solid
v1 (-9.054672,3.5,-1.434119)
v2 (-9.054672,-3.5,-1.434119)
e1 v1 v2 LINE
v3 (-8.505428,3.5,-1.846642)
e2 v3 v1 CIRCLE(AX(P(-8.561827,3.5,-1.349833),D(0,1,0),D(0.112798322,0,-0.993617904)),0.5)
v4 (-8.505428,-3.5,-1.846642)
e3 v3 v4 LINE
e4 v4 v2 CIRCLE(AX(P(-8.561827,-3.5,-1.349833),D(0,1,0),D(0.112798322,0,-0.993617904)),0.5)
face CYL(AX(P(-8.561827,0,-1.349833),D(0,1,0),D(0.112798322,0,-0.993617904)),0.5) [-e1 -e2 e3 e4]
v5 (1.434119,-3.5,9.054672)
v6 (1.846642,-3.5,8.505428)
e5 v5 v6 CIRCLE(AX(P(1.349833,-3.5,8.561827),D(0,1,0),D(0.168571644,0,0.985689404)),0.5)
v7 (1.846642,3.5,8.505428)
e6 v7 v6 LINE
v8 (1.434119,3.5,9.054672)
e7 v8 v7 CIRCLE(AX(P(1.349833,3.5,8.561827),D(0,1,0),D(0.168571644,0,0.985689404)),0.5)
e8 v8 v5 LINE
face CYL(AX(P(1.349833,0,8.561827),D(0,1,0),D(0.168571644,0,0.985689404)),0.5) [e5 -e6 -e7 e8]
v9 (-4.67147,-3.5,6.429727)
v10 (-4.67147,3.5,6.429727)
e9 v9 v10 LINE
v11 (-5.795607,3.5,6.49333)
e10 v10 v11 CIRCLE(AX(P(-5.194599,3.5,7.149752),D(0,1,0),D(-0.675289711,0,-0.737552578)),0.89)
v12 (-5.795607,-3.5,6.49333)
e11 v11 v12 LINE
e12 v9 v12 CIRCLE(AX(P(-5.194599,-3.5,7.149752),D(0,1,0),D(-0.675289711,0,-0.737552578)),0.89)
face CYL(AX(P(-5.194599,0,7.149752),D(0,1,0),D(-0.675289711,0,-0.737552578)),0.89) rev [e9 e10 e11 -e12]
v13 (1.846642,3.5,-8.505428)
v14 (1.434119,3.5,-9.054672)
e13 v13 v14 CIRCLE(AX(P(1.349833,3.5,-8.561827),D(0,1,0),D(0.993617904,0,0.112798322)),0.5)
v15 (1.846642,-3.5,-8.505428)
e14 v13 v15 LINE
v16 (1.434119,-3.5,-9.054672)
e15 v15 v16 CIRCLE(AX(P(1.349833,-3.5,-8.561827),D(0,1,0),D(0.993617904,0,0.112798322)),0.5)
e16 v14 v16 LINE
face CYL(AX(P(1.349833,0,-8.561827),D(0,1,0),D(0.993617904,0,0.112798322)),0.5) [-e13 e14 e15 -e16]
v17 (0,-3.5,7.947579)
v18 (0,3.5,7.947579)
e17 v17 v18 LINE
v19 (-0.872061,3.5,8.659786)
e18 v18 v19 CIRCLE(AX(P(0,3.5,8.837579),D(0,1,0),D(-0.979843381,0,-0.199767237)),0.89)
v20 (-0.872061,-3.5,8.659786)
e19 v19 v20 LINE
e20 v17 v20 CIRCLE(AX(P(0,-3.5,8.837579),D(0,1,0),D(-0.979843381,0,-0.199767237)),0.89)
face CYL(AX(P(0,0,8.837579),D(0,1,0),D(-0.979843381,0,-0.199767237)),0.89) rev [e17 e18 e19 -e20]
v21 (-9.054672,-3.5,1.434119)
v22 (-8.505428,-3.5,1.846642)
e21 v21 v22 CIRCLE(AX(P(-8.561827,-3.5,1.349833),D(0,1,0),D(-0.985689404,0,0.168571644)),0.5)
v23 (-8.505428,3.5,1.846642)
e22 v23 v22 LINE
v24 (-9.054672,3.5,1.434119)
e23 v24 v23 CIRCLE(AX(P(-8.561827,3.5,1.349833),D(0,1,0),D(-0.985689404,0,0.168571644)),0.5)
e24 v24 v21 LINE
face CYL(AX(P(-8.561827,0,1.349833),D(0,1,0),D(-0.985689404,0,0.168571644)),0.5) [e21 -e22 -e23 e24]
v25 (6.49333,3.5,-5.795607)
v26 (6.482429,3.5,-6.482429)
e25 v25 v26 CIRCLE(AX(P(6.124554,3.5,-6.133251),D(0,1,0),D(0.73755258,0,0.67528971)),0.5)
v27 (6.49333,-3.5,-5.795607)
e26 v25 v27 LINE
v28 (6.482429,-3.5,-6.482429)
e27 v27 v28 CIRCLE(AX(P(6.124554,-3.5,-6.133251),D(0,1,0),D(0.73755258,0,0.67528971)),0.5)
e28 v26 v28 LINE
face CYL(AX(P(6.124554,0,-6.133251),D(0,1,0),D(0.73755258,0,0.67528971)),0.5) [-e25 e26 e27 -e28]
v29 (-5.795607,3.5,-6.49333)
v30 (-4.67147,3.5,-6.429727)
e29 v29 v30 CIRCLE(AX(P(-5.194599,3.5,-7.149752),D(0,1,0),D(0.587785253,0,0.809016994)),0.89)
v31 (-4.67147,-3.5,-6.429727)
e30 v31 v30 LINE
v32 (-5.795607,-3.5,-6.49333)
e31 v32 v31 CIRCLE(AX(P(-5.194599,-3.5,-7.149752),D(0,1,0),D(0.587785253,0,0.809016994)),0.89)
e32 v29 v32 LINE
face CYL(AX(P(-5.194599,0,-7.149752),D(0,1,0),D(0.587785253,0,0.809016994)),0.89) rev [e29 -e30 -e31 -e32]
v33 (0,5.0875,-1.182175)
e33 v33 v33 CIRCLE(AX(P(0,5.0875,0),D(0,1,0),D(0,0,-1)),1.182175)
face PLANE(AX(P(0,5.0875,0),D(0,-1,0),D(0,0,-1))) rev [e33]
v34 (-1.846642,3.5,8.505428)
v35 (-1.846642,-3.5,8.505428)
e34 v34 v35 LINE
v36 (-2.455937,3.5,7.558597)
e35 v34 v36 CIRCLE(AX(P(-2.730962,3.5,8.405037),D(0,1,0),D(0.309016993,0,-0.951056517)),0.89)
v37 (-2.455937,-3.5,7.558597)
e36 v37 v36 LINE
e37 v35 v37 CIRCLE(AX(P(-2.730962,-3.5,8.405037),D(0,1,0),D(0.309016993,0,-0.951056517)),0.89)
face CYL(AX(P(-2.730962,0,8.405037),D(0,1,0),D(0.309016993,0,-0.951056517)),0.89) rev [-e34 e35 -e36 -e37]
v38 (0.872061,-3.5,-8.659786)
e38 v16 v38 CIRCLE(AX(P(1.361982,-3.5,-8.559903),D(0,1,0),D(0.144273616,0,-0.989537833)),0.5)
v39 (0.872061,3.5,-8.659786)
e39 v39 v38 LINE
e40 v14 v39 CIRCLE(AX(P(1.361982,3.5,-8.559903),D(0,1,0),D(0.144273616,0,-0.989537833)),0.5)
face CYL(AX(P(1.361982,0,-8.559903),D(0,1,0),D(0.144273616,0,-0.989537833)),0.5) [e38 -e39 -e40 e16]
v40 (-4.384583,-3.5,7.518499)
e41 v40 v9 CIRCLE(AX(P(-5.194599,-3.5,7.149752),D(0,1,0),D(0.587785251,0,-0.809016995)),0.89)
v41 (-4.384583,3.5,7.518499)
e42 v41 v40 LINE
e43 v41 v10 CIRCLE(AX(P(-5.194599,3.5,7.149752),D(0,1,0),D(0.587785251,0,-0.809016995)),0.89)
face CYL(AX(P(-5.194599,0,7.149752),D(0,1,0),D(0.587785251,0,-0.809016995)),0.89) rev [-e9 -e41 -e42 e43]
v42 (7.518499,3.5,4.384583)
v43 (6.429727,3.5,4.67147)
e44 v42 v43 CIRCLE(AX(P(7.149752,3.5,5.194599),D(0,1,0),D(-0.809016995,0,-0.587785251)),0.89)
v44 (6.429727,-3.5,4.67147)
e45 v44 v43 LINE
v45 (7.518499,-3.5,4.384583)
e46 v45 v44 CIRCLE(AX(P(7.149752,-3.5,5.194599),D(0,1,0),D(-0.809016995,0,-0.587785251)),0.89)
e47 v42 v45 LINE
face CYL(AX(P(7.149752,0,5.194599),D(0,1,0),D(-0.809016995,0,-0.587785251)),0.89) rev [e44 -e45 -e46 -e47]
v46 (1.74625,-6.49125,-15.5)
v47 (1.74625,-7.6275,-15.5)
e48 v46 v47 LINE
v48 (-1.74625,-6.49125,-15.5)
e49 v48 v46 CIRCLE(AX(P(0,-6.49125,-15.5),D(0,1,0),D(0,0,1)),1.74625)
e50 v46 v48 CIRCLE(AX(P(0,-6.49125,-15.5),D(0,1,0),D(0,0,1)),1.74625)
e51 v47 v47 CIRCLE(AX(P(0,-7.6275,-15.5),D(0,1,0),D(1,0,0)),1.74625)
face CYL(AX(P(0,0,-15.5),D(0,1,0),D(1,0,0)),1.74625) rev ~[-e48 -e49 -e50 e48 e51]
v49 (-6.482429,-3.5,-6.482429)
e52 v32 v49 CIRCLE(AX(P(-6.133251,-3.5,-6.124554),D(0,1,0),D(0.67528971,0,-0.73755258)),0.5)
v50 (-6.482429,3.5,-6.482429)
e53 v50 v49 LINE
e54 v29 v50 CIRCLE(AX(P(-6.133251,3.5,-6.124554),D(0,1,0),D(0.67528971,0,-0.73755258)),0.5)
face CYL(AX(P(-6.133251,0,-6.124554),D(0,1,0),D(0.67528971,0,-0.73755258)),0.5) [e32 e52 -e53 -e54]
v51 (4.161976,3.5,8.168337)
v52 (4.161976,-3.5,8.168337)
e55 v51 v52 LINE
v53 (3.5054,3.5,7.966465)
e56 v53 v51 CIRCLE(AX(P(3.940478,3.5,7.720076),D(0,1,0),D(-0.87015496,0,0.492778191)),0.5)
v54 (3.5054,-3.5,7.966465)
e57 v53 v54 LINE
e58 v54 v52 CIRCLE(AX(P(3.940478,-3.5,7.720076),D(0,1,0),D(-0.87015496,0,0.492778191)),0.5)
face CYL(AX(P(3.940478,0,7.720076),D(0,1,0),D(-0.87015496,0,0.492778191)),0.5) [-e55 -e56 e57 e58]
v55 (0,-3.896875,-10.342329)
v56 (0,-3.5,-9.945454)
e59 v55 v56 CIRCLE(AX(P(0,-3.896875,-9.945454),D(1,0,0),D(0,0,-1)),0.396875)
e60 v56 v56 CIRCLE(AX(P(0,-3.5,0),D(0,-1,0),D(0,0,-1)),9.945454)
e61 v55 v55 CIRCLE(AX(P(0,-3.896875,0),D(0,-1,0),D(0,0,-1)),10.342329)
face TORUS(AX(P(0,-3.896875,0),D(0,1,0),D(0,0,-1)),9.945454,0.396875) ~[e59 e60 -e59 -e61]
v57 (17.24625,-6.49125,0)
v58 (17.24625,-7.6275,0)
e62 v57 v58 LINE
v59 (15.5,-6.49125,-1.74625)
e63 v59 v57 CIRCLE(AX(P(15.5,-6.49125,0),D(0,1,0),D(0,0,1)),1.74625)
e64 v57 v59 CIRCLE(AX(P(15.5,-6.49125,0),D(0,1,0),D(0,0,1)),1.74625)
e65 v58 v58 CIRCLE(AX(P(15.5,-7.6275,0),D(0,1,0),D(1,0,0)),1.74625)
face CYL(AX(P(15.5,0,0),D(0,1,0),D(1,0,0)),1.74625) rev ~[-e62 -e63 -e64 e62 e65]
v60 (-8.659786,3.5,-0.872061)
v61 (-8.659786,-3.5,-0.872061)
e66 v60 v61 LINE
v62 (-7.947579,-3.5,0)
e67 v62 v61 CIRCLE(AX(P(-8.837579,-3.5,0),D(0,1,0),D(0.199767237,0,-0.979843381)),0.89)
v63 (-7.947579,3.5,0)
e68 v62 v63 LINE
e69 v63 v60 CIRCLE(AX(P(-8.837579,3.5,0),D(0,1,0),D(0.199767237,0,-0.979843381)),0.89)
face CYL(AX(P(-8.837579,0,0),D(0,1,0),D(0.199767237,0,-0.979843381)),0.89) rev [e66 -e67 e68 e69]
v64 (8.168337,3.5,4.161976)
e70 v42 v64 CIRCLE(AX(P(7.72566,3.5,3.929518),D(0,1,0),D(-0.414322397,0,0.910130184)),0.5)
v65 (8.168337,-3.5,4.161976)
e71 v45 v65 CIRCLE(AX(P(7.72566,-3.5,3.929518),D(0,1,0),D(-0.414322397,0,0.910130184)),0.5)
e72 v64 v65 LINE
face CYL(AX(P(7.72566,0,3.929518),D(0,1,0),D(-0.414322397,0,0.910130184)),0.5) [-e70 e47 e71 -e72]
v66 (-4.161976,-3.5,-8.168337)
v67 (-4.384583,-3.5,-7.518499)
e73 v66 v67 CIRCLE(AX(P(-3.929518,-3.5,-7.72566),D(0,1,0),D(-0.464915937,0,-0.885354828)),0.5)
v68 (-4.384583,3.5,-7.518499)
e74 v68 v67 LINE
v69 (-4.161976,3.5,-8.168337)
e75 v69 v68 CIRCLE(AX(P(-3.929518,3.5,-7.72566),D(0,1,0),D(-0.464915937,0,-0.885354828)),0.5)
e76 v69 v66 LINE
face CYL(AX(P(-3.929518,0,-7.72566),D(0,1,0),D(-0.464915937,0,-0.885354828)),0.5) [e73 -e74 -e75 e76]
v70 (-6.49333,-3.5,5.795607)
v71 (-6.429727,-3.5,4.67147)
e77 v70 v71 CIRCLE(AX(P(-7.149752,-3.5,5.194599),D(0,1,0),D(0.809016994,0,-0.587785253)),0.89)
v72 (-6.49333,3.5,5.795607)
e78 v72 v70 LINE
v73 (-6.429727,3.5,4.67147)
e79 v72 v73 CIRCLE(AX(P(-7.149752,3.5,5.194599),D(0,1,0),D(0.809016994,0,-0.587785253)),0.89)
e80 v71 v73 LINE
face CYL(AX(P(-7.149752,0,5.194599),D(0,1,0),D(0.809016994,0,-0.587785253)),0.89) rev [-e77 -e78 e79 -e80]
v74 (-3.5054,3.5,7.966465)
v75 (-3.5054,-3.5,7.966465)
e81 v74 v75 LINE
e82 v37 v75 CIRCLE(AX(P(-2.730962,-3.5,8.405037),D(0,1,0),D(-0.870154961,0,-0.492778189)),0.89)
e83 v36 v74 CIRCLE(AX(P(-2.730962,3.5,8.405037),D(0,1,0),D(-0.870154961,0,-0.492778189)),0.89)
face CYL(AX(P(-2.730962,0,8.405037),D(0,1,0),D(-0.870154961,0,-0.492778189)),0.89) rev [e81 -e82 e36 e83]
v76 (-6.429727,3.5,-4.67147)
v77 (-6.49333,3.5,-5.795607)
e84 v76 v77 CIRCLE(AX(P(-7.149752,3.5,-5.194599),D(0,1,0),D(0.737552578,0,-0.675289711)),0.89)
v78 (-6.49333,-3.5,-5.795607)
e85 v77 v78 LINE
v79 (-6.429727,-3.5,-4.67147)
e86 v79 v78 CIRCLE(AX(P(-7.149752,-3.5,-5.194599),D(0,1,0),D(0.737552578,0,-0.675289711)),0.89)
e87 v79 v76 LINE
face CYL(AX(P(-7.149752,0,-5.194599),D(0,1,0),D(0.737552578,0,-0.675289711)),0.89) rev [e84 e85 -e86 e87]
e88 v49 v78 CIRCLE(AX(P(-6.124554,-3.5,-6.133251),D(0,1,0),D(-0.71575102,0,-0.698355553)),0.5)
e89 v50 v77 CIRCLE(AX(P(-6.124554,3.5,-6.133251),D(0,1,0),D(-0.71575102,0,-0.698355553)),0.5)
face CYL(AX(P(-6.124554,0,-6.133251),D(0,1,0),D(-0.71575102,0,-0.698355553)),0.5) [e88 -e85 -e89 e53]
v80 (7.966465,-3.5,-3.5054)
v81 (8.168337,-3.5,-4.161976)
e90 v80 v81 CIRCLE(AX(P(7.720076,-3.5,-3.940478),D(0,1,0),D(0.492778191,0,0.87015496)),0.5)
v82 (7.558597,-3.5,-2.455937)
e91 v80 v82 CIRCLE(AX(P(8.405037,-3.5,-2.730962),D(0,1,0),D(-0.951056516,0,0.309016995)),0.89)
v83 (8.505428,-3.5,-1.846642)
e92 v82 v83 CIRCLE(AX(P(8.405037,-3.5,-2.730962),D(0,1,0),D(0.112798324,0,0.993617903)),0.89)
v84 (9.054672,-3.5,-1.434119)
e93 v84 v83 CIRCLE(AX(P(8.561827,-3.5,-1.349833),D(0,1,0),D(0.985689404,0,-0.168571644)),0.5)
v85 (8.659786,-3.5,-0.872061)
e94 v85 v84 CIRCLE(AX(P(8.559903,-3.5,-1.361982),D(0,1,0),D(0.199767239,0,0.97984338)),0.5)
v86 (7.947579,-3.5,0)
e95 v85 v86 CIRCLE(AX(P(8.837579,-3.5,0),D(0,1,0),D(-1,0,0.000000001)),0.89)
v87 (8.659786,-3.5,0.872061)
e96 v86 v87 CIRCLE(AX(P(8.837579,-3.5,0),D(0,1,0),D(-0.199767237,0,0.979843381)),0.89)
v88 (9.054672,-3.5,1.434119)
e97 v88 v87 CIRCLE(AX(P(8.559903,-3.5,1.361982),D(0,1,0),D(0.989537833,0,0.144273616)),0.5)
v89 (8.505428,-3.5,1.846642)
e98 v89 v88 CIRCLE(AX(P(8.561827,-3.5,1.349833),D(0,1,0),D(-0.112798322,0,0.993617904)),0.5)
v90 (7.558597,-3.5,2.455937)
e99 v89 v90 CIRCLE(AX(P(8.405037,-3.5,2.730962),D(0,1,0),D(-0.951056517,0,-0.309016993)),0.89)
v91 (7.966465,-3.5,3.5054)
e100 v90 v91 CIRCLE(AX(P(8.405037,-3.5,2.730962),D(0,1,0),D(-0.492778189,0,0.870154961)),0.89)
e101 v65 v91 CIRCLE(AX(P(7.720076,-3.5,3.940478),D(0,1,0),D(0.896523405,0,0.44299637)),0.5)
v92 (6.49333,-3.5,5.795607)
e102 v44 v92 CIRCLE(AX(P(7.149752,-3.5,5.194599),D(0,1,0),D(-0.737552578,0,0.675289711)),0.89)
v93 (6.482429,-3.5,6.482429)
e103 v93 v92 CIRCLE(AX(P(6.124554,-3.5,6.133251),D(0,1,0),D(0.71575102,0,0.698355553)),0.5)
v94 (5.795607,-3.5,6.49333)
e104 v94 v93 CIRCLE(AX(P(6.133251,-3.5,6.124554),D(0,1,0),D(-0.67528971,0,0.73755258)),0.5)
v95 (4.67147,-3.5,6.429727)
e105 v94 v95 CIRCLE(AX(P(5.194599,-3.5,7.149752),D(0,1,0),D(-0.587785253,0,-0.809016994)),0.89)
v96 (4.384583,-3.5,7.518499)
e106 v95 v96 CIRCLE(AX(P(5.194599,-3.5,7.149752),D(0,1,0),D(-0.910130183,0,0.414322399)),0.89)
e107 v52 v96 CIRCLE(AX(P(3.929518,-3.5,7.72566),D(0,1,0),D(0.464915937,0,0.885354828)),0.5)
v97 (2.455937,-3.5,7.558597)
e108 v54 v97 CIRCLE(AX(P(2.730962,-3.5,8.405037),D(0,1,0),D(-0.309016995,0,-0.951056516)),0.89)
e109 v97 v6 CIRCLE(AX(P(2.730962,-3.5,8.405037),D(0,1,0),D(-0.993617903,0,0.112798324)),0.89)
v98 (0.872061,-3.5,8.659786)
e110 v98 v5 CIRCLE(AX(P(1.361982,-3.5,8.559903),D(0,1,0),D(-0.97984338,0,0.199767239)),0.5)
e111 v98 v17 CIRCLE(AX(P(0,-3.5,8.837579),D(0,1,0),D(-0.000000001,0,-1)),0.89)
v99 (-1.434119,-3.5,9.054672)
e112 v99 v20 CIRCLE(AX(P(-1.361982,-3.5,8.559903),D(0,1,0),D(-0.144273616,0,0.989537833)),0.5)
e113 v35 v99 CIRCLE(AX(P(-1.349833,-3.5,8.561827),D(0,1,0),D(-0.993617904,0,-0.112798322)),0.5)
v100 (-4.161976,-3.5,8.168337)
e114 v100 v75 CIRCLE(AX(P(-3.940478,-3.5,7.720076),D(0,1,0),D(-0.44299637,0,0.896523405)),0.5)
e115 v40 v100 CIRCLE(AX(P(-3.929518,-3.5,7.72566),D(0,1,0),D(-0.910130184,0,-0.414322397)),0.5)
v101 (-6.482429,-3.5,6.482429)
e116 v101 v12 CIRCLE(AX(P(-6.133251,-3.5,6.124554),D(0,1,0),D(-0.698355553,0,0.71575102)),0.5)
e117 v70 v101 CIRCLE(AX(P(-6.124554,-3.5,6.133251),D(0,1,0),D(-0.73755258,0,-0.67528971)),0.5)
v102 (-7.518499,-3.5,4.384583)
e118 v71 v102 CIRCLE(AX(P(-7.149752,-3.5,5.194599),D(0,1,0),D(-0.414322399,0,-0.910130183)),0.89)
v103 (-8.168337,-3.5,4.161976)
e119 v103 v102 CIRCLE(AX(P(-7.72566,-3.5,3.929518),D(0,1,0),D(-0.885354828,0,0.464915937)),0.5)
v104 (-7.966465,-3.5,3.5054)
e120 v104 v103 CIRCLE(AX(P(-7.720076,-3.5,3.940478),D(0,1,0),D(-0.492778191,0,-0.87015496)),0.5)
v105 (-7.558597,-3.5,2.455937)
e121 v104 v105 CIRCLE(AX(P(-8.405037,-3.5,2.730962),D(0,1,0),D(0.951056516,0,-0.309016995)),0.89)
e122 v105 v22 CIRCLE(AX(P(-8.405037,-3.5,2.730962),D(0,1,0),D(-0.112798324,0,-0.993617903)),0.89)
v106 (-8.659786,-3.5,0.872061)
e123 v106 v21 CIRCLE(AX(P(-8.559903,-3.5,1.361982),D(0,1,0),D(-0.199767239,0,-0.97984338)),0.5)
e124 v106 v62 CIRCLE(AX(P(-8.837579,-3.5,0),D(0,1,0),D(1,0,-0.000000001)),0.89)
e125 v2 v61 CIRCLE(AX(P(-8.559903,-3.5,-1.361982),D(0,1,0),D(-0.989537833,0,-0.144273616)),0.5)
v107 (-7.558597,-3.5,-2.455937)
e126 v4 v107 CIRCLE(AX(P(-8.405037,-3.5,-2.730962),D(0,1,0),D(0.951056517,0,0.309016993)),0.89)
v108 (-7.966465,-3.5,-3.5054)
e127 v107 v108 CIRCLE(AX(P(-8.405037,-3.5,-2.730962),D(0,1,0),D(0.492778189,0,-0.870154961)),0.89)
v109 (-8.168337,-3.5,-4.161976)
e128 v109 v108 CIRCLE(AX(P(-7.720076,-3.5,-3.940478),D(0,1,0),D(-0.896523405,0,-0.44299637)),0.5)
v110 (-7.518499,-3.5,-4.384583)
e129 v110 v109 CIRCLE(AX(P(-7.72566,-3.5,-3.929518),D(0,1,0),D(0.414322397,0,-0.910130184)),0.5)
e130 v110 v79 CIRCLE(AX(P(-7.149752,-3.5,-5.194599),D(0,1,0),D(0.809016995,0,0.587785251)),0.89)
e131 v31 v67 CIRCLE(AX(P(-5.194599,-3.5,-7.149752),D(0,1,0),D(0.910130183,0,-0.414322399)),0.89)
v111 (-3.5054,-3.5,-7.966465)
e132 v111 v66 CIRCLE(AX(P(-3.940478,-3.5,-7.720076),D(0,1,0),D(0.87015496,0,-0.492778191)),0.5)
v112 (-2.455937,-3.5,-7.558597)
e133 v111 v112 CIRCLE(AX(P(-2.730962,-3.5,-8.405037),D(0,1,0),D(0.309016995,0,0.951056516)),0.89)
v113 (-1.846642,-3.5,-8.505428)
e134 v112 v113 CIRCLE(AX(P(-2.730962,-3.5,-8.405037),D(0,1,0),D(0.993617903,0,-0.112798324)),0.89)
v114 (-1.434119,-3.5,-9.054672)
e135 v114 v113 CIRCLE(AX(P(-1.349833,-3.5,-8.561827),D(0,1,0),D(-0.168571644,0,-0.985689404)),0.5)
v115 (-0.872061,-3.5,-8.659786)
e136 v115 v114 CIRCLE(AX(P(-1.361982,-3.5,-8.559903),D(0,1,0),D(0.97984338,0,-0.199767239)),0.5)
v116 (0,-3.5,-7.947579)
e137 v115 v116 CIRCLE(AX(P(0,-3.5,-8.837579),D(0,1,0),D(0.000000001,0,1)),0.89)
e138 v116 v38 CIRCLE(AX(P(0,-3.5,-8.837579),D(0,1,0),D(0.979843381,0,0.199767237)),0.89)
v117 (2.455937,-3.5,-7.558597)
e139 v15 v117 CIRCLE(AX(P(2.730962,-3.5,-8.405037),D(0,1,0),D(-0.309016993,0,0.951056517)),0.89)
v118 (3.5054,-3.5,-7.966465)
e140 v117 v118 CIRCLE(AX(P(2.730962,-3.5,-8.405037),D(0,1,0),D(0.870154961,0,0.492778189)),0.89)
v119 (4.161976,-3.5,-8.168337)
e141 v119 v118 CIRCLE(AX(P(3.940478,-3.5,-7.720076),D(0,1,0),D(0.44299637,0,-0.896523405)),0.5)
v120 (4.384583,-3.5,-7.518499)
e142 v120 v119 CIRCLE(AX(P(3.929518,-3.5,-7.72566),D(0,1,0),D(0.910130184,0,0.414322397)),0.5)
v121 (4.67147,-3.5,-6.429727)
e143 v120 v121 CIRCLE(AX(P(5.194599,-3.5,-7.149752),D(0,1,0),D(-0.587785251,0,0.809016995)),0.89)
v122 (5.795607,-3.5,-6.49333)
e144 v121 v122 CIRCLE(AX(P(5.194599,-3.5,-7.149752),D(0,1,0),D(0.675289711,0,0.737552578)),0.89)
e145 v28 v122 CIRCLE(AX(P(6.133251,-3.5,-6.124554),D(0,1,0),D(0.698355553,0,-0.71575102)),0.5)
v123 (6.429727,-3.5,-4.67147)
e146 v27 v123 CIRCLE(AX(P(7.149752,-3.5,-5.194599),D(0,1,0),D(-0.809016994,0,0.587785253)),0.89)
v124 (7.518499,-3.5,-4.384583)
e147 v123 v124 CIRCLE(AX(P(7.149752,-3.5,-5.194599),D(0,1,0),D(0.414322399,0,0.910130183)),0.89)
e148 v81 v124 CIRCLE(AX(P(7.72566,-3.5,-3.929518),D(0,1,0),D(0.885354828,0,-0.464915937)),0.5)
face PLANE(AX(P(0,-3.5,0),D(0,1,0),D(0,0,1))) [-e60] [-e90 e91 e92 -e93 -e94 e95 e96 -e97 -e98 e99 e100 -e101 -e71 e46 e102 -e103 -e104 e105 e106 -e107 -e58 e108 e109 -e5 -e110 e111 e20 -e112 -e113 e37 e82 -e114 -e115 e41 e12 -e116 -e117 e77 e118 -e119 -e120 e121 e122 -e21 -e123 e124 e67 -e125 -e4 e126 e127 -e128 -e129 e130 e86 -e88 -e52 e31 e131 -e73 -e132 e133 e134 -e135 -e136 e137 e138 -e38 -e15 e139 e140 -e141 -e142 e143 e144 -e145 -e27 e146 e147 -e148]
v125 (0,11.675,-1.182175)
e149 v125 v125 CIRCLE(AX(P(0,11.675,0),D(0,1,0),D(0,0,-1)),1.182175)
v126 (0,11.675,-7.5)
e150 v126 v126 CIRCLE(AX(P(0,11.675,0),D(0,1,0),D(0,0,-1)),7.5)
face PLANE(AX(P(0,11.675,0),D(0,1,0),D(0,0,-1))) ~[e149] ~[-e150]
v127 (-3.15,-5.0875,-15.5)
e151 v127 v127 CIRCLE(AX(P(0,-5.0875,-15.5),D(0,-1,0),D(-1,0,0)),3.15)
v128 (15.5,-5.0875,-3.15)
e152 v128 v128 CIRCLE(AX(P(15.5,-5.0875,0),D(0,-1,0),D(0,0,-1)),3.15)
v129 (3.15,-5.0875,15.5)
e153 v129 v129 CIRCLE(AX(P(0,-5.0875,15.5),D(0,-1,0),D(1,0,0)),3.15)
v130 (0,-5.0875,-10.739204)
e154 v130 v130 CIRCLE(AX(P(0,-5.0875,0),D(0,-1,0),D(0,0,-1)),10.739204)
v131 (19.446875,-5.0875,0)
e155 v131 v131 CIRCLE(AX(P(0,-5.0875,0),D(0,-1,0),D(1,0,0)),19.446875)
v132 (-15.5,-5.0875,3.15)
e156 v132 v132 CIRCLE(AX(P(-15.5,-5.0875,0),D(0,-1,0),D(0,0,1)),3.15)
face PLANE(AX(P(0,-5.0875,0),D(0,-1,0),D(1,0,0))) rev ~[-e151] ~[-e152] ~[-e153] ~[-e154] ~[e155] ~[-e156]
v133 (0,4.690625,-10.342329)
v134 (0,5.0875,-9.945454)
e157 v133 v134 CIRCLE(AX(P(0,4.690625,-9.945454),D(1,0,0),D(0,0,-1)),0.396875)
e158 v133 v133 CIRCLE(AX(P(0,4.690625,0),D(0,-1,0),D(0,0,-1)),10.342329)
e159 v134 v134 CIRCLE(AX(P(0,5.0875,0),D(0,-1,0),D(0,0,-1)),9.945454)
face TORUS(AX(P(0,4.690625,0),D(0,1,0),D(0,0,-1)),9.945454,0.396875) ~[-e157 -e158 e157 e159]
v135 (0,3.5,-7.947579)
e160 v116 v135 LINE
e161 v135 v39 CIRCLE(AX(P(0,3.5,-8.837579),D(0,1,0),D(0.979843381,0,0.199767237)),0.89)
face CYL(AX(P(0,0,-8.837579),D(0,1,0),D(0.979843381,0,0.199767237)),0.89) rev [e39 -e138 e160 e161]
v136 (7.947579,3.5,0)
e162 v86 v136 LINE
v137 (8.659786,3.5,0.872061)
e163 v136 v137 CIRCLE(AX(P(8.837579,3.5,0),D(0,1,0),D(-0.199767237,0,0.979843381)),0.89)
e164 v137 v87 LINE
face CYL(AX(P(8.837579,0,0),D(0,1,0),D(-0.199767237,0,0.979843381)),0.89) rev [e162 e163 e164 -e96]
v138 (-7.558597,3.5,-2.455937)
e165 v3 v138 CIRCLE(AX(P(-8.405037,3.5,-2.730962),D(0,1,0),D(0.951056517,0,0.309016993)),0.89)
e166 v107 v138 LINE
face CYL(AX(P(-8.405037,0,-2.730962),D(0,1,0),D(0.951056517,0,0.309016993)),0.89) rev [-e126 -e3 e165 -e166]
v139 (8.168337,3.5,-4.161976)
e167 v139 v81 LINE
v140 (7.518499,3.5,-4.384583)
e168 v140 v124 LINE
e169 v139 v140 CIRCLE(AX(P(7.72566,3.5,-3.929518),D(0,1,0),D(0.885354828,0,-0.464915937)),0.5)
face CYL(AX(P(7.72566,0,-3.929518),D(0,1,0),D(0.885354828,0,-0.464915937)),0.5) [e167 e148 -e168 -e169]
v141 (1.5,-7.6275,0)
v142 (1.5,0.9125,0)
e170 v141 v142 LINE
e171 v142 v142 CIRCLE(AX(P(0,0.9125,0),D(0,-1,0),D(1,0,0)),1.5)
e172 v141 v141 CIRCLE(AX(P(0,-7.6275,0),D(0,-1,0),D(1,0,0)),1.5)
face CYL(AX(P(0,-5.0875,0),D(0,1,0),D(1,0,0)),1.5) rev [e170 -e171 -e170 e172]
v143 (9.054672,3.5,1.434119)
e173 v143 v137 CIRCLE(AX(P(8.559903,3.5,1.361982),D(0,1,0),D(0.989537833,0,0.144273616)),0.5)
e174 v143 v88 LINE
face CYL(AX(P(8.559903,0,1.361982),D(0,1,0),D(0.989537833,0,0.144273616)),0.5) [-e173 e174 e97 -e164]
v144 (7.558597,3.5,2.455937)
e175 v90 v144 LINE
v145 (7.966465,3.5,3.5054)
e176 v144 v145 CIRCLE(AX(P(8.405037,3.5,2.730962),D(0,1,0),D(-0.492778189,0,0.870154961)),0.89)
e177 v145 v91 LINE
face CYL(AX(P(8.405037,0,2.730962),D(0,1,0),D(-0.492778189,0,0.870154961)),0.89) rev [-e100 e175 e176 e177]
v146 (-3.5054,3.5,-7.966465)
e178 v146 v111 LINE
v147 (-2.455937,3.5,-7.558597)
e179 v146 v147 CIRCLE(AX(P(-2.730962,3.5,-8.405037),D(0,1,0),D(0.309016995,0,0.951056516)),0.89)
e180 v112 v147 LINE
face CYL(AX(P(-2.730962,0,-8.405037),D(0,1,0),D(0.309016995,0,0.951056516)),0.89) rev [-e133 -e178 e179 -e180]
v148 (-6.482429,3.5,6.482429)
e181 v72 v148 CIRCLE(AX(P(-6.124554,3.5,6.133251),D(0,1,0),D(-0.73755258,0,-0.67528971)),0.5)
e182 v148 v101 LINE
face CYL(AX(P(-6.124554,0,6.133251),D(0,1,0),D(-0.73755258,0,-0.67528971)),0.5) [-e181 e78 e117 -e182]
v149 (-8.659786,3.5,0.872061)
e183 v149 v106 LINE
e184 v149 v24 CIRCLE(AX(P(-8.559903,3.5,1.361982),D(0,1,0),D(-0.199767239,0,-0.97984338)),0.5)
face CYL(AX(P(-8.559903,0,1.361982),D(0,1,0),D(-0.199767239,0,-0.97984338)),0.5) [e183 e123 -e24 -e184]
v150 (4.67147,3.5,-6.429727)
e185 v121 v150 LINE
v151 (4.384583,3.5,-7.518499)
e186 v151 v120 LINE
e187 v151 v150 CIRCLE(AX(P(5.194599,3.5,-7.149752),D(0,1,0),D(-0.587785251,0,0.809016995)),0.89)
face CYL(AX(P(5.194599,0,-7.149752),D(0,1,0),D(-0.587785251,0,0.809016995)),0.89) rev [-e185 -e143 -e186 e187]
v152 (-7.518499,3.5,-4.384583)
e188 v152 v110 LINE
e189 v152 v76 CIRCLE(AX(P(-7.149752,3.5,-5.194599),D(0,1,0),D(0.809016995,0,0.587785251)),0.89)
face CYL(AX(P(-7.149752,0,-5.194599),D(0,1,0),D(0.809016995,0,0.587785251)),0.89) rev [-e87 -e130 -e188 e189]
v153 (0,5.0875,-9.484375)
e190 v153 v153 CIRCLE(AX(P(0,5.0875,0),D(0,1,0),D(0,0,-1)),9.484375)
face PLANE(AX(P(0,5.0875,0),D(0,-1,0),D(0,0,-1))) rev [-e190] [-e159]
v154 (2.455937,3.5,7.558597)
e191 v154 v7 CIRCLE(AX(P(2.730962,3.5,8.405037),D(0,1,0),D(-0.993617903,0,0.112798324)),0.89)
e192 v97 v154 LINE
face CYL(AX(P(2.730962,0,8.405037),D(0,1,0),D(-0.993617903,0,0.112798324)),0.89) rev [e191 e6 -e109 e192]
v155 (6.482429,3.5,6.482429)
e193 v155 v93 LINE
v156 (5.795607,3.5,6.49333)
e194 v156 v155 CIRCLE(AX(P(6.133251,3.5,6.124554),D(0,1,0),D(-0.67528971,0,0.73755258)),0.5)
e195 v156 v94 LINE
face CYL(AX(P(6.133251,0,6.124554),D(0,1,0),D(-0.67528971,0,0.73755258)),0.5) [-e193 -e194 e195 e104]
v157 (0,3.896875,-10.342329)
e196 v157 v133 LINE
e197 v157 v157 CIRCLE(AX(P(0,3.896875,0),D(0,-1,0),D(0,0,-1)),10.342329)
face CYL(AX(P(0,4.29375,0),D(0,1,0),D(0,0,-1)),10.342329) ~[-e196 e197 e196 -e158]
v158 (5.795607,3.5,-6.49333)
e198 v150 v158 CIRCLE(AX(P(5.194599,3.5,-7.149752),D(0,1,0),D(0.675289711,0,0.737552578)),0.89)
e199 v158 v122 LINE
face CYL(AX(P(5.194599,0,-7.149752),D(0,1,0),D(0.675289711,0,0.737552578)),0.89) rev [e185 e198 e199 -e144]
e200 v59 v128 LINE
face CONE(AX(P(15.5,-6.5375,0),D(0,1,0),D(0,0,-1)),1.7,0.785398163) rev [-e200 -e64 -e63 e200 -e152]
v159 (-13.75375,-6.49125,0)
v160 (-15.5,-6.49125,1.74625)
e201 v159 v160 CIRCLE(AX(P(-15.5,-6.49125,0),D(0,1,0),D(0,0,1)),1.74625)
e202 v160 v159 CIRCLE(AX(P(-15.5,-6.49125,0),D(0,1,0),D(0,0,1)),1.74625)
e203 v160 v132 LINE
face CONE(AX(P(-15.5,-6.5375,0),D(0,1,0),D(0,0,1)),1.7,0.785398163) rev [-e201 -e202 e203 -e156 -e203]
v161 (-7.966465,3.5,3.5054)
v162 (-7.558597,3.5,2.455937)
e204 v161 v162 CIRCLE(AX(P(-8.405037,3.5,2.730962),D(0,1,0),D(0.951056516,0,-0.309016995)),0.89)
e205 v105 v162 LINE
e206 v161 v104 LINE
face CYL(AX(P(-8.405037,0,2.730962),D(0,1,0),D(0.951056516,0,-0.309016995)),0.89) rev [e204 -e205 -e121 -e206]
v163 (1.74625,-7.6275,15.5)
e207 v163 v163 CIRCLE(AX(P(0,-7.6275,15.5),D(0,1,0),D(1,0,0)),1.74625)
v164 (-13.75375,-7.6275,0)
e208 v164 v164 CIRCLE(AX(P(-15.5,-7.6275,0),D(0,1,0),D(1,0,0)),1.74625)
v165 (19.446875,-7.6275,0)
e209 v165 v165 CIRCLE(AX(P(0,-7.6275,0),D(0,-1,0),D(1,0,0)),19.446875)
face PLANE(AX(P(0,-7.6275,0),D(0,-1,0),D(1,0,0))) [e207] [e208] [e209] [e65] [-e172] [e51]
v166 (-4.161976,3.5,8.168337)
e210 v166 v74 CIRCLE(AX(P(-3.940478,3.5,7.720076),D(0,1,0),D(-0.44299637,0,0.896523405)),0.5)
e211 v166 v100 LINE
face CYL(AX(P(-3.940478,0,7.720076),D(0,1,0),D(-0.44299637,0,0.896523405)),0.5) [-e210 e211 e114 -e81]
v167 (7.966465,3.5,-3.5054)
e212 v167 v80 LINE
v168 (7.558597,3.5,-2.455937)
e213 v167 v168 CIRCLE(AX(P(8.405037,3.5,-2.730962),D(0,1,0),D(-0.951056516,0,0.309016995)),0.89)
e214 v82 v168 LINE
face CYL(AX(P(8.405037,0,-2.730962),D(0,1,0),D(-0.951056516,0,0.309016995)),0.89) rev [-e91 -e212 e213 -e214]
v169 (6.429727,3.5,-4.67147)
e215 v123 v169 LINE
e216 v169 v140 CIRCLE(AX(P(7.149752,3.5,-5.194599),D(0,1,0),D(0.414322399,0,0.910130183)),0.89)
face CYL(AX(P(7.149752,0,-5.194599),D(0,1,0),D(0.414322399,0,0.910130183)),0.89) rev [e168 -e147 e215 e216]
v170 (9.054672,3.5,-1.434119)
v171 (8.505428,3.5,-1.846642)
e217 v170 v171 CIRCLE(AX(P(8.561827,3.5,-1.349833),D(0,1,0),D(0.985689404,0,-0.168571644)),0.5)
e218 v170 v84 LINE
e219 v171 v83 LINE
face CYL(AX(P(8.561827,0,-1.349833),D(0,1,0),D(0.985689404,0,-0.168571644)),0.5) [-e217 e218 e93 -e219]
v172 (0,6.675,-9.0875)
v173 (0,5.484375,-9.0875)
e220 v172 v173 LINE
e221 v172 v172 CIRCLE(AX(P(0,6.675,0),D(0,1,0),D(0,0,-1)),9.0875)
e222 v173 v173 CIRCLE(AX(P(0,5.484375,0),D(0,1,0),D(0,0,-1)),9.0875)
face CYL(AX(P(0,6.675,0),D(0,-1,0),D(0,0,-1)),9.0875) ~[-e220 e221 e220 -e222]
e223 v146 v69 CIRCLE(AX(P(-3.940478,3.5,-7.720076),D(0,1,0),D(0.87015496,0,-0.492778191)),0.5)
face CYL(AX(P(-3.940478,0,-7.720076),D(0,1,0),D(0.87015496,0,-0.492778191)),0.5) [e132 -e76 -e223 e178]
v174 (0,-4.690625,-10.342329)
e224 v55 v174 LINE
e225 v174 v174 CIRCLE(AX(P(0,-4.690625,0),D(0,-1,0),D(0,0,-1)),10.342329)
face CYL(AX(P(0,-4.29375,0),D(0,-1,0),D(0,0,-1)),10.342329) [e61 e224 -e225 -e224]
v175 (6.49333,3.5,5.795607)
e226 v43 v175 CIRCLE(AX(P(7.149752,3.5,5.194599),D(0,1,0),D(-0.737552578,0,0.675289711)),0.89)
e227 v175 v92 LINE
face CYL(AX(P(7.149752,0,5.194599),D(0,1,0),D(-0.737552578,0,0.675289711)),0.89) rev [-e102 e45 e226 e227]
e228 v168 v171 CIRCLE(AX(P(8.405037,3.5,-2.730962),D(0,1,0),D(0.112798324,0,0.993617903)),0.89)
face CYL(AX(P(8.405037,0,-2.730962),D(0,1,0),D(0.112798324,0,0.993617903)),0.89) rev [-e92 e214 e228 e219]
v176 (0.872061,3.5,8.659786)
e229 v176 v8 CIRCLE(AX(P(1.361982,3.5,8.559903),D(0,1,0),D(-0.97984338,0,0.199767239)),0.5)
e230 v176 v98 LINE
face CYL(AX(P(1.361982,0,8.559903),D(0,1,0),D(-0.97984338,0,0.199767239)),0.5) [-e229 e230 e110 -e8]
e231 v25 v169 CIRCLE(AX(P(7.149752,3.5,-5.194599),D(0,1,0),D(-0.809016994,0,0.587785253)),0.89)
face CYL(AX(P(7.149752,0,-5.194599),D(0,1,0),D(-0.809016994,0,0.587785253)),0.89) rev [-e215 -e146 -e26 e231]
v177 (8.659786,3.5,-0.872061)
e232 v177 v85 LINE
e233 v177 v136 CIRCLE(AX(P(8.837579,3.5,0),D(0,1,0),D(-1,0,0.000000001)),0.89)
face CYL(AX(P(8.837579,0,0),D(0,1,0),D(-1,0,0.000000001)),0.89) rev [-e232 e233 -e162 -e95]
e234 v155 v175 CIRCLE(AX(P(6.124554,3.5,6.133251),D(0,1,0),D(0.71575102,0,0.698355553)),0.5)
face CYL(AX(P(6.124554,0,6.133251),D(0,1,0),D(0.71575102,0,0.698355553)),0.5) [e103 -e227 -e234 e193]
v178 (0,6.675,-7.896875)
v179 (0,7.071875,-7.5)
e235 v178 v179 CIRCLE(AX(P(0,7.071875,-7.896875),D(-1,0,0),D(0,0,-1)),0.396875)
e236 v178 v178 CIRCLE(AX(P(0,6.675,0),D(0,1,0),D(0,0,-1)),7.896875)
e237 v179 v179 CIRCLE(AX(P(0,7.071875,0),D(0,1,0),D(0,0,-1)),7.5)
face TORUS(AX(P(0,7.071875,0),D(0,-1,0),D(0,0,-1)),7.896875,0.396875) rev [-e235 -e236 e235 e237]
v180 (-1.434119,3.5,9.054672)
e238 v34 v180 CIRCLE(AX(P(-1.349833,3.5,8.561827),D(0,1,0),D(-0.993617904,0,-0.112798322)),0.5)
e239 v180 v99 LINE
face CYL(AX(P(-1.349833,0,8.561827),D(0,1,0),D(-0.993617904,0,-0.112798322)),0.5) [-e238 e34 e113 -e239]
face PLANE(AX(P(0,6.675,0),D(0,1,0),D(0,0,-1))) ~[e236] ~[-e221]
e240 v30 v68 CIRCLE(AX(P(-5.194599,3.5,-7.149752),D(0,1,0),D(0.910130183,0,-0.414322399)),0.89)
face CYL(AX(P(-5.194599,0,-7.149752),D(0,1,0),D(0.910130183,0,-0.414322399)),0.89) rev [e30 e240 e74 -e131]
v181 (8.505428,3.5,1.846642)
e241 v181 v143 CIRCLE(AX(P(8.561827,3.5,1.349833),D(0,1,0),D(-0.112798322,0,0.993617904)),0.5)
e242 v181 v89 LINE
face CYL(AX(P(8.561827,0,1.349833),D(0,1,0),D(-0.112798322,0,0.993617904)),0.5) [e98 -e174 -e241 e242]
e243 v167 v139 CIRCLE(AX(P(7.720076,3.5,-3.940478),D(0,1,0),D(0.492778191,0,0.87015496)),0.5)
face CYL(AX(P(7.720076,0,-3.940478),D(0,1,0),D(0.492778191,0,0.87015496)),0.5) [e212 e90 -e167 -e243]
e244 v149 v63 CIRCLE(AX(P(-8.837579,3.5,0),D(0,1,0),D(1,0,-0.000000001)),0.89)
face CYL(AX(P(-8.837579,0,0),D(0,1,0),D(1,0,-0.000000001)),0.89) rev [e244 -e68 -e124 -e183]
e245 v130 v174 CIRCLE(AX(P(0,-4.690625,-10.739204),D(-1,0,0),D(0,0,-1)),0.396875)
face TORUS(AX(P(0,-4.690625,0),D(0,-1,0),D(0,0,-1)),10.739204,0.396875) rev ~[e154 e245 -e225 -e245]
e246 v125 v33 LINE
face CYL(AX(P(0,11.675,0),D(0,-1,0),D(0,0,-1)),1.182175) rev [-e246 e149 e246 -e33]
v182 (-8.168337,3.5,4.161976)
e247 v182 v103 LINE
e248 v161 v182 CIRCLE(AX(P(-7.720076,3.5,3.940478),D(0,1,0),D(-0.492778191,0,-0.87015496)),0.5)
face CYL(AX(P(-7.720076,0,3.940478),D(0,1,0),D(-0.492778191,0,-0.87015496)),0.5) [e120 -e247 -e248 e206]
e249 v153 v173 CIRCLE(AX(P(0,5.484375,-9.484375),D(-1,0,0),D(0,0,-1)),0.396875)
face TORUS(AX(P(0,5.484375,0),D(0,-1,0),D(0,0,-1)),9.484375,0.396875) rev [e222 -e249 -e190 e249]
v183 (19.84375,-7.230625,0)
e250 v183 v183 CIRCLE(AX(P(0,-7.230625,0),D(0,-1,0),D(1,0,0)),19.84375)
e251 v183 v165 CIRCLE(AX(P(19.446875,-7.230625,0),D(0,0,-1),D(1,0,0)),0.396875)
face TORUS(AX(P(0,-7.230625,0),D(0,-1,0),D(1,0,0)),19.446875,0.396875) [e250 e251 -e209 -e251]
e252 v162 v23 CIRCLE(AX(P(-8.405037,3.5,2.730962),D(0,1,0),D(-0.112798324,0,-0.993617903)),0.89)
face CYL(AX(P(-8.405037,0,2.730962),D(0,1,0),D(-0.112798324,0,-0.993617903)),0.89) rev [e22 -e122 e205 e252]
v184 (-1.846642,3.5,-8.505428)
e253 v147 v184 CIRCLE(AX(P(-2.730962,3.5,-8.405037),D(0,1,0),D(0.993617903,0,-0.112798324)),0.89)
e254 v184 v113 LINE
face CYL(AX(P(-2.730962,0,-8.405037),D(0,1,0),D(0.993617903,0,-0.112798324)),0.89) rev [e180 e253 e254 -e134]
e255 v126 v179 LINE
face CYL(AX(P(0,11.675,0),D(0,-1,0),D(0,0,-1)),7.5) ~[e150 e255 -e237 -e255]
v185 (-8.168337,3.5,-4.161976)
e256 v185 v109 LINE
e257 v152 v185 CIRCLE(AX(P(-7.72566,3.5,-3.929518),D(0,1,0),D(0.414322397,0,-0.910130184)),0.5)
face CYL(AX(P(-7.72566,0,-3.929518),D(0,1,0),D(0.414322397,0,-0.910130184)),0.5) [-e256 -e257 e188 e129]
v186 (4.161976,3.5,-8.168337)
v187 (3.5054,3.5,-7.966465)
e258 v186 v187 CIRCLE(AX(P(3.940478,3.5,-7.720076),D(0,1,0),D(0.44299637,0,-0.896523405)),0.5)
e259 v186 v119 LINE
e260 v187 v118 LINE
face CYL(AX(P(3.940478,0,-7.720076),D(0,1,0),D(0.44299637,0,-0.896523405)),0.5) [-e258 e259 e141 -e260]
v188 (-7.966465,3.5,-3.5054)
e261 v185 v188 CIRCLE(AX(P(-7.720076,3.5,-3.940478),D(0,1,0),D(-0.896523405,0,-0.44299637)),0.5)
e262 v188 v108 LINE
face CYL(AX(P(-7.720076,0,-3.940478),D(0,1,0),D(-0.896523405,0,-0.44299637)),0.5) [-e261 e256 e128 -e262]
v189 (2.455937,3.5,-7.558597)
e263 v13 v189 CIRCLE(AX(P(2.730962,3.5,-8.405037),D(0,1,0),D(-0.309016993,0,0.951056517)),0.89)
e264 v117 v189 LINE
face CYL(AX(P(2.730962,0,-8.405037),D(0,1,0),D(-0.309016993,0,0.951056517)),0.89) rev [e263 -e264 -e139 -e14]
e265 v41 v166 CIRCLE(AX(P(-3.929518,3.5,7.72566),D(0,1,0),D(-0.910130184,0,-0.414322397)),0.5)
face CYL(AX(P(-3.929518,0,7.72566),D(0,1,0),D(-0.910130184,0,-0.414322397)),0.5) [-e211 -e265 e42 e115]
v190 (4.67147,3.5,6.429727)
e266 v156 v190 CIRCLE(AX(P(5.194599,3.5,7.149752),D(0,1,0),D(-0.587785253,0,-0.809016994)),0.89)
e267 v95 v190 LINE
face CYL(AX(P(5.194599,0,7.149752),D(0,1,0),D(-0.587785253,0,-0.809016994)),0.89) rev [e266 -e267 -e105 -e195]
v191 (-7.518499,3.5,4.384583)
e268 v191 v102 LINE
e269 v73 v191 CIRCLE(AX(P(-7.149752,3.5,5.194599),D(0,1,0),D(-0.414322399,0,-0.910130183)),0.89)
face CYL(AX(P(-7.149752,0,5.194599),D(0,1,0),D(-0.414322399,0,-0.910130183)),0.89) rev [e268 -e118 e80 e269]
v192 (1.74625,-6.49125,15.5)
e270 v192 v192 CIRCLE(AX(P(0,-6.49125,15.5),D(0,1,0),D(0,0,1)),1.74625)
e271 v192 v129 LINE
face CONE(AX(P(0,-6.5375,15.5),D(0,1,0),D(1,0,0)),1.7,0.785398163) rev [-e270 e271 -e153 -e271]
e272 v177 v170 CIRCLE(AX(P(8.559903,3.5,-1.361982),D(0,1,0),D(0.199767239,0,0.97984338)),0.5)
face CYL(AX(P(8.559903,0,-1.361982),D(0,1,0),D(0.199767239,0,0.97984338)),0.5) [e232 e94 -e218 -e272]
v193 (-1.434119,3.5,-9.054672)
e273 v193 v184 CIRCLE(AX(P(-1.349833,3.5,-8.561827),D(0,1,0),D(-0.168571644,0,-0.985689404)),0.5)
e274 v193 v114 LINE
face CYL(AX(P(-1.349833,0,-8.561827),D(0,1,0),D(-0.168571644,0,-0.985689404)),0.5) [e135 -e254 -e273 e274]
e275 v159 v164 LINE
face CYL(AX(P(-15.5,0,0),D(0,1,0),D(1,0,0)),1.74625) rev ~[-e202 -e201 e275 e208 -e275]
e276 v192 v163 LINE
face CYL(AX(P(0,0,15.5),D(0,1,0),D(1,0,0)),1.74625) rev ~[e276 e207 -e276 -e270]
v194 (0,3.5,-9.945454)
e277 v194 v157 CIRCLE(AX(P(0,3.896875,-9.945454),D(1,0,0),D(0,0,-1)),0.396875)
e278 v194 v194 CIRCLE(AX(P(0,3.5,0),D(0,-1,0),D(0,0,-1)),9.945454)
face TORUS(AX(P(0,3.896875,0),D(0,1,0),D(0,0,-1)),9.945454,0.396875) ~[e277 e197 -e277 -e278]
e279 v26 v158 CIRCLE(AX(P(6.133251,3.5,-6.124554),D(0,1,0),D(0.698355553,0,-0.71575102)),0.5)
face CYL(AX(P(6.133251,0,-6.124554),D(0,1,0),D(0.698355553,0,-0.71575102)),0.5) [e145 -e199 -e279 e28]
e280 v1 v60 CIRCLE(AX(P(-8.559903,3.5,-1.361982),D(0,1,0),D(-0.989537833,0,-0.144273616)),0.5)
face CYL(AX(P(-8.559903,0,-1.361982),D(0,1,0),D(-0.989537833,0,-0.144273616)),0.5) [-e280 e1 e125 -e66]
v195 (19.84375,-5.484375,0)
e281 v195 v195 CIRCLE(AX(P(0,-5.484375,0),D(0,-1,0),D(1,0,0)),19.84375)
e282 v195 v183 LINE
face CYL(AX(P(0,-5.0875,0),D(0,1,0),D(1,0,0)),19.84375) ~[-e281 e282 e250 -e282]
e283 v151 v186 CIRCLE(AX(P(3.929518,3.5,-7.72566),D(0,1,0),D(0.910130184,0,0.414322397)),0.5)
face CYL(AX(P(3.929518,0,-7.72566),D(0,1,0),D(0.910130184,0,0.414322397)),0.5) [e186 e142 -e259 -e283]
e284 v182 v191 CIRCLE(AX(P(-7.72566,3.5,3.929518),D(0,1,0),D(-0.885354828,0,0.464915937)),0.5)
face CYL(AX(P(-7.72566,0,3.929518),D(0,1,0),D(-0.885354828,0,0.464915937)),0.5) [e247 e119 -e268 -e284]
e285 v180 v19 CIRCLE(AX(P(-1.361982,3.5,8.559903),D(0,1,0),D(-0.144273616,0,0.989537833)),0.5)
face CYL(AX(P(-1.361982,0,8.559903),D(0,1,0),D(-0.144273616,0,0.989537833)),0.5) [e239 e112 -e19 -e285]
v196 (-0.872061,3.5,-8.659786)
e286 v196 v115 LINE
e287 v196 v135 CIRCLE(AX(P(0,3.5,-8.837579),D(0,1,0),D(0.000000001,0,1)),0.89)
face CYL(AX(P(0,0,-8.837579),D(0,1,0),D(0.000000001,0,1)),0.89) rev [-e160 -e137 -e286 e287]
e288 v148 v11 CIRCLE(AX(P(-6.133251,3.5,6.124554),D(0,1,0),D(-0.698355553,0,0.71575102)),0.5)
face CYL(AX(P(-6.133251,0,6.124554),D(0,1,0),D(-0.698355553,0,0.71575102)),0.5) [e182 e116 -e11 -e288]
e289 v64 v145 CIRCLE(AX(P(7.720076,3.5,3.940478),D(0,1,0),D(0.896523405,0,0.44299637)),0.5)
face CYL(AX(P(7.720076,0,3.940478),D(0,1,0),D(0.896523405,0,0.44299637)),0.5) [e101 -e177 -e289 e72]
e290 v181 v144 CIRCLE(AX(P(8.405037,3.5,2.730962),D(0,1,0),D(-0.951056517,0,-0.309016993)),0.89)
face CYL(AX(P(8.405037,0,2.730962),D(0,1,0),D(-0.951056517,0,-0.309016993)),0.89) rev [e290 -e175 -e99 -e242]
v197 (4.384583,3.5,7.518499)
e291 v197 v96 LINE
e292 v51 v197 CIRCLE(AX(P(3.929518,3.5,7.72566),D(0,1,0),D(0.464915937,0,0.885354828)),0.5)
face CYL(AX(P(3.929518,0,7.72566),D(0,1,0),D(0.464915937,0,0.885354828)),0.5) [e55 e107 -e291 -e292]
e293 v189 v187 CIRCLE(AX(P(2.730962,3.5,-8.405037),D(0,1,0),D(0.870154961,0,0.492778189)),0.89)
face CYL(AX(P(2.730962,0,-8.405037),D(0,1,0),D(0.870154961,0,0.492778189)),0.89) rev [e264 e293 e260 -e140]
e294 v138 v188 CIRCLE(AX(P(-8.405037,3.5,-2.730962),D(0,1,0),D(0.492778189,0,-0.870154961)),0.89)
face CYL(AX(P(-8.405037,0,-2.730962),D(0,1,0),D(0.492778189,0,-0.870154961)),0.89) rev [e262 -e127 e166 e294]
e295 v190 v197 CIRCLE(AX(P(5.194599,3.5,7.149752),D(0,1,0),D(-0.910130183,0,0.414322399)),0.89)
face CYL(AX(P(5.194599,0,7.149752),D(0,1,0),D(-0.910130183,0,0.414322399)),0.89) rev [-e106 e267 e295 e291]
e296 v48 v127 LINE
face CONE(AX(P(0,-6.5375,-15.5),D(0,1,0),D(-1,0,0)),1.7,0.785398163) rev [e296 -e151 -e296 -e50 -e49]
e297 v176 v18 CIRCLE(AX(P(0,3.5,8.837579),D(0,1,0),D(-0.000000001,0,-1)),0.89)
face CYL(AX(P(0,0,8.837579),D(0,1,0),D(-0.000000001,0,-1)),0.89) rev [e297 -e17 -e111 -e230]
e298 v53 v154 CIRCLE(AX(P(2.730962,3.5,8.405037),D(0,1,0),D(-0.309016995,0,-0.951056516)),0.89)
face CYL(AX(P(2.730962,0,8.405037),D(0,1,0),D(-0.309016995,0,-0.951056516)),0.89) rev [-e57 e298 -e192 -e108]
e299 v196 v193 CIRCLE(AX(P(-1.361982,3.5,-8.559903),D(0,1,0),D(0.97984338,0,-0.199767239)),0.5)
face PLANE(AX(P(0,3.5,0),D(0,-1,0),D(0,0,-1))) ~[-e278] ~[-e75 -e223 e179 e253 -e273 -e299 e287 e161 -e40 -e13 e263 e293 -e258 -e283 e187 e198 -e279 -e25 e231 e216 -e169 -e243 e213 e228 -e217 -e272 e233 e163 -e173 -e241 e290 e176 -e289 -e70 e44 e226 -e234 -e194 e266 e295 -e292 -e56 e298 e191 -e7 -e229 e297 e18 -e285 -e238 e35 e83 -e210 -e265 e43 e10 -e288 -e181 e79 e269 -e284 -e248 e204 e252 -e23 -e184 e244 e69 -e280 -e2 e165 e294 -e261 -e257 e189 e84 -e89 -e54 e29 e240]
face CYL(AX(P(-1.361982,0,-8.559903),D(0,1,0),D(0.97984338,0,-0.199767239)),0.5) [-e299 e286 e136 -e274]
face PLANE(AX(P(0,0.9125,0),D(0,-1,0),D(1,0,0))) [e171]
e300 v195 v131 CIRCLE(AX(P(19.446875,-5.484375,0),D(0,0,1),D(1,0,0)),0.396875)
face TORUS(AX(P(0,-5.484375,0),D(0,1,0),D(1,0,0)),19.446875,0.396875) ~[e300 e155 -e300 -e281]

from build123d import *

# Parameters (mm, degrees)
BOSS_EXTRUDE1_DEPTH     = 3.556
CIRPATTERN1_COUNT       = 20
SKETCH2_W               = 10.342329408
SKETCH2_H               = 1.5875
SKETCH9_R               = 19.84375
SKETCH9_R_2             = 1.5
BOSS_EXTRUDE2_DEPTH     = 2.54
SKETCH3_R               = 1.74625
CUT_EXTRUDE1_DEPTH      = 6.087499985
CUT_EXTRUDE1_DEPTH_BACK = 8.627499985
CIRPATTERN2_COUNT       = 4
SKETCH11_R              = 1.5
CUT_EXTRUDE2_DEPTH      = 6
FILLET1_R               = 0.396875


with BuildPart() as part:
    # Sketch1 → Boss-Extrude1 (new body, symmetric)
    with BuildSketch(Plane(origin=(0, 0, 0), x_dir=(1, 0, 0), z_dir=(0, 1, 0))):
        with BuildLine():
            ThreePointArc((0.872060607, 8.659786465), (0.562967303, 8.148255135), (0, 7.947579308))
            ThreePointArc((0, 7.947579308), (-1.243275317, -7.849731418), (2.45593707, 7.55859709))
            ThreePointArc((2.45593707, 7.55859709), (1.982535589, 7.923417607), (1.846642263, 8.505427895))
            ThreePointArc((1.846642263, 8.505427895), (1.749626992, 8.862101959), (1.434119122, 9.054671776))
            ThreePointArc((1.434119122, 9.054671776), (1.074545959, 8.969024291), (0.872060607, 8.659786465))
        make_face()
    boss_extrude1 = extrude(amount=BOSS_EXTRUDE1_DEPTH, both=True)

    # CirPattern1: Boss-Extrude1 ×20 about axis
    cirpattern1_axis = Axis((0, 0, 0), (0, 1, 0))
    for i in range(1, CIRPATTERN1_COUNT):
        add(boss_extrude1.rotate(cirpattern1_axis, i * 360 / CIRPATTERN1_COUNT))

    # Sketch2 → Revolve3 (revolve)
    with BuildSketch(Plane(origin=(0, 0, 0), x_dir=(0, 0, -1), z_dir=(1, 0, 0))):
        with Locations((5.171164704, 4.293749985)):
            Rectangle(SKETCH2_W, SKETCH2_H)
    revolve3 = revolve(axis=Axis((0, 3.3, 0), (0, -1, 0)))

    # Mirror1: Revolve3 across plane
    add(revolve3.mirror(Plane.ZX))

    # Sketch9 → Boss-Extrude2 (add)
    with BuildSketch(Plane.XZ.offset(5.087499985)):
        Circle(SKETCH9_R)
        Circle(SKETCH9_R_2, mode=Mode.SUBTRACT)
    extrude(amount=BOSS_EXTRUDE2_DEPTH)

    # Sketch3 → Cut-Extrude1 (cut, two sides)
    with BuildSketch(Plane(origin=(0, 0, 0), x_dir=(1, 0, 0), z_dir=(0, 1, 0))) as cut_extrude1_sk:
        with Locations((-15.5, 0)):
            Circle(SKETCH3_R)
        with Locations((0, 15.5)):
            Circle(SKETCH3_R)
        with Locations((15.5, 0)):
            Circle(SKETCH3_R)
        with Locations((0, -15.5)):
            Circle(SKETCH3_R)
    extrude(amount=CUT_EXTRUDE1_DEPTH, mode=Mode.SUBTRACT)
    extrude(cut_extrude1_sk.sketch, amount=-CUT_EXTRUDE1_DEPTH_BACK, mode=Mode.SUBTRACT)

    # Sketch6 → Cut-Revolve2 (revolve, cut)
    with BuildSketch(Plane.XY):
        Polygon((-11.8678, -3.499999985), (-15.5, -7.132199985), (-15.5, -3.499999985), align=None)
    cut_revolve2 = revolve(axis=Axis((-15.5, -7.627499985, 0), (0, 1, 0)), mode=Mode.SUBTRACT)

    # Sketch13 → CSK for M3 Flat Head Machine Screw1 (revolve, cut)
    with BuildSketch(Plane(origin=(-15.5, -5.087499985, 0), x_dir=(0, 0, 1), z_dir=(1, 0, 0))):
        Polygon((0, 0), (0, 25.913463052), (1.7, 24.892), (1.7, 1.45), (3.15, 0), align=None)
    csk_for_m3_flat_head_machine_screw1 = revolve(axis=Axis((-15.5, 1.262500015, 0), (0, -1, 0)), mode=Mode.SUBTRACT)

    # CirPattern2: Cut-Revolve2, CSK for M3 Flat Head Machine Screw1 ×4 about axis
    cirpattern2_axis = Axis((0, 0, 0), (0, 1, 0))
    for i in range(1, CIRPATTERN2_COUNT):
        add(cut_revolve2.rotate(cirpattern2_axis, i * 360 / CIRPATTERN2_COUNT), mode=Mode.SUBTRACT)
        add(csk_for_m3_flat_head_machine_screw1.rotate(cirpattern2_axis, i * 360 / CIRPATTERN2_COUNT), mode=Mode.SUBTRACT)

    # Sketch11 → Cut-Extrude2 (cut)
    with BuildSketch(Plane.XZ.offset(5.087499985)):
        Circle(SKETCH11_R)
    extrude(amount=-CUT_EXTRUDE2_DEPTH, mode=Mode.SUBTRACT)

    # Sketch10 → Revolve4 (revolve)
    with BuildSketch(Plane(origin=(0, 0, 0), x_dir=(0, 0, -1), z_dir=(1, 0, 0))):
        Polygon((1.182175065, 6.674999985), (1.182175065, 11.674999985), (7.5, 11.674999985), (7.5, 6.674999985), (9.0875, 6.674999985), (9.0875, 5.087499985), (1.182175065, 5.087499985), align=None)
    revolve(axis=Axis((0, 0, 0), (0, 1, 0)))

    # Fillet1
    fillet1_edges = [part.edges().sort_by_distance(p)[0] for p in [
        (0, 5.087499985, 10.342329408),
        (0, 3.499999985, 10.342329408),
        (0, -3.499999985, 10.342329408),
        (0, -5.087499985, 10.342329408),
        (-19.84375, -7.627499985, 0),
        (-19.84375, -5.087499985, 0),
        (0, 5.087499985, 9.0875),
        (0, 6.674999985, 7.5),
    ]]
    fillet(fillet1_edges, radius=FILLET1_R)


solid = part.part
